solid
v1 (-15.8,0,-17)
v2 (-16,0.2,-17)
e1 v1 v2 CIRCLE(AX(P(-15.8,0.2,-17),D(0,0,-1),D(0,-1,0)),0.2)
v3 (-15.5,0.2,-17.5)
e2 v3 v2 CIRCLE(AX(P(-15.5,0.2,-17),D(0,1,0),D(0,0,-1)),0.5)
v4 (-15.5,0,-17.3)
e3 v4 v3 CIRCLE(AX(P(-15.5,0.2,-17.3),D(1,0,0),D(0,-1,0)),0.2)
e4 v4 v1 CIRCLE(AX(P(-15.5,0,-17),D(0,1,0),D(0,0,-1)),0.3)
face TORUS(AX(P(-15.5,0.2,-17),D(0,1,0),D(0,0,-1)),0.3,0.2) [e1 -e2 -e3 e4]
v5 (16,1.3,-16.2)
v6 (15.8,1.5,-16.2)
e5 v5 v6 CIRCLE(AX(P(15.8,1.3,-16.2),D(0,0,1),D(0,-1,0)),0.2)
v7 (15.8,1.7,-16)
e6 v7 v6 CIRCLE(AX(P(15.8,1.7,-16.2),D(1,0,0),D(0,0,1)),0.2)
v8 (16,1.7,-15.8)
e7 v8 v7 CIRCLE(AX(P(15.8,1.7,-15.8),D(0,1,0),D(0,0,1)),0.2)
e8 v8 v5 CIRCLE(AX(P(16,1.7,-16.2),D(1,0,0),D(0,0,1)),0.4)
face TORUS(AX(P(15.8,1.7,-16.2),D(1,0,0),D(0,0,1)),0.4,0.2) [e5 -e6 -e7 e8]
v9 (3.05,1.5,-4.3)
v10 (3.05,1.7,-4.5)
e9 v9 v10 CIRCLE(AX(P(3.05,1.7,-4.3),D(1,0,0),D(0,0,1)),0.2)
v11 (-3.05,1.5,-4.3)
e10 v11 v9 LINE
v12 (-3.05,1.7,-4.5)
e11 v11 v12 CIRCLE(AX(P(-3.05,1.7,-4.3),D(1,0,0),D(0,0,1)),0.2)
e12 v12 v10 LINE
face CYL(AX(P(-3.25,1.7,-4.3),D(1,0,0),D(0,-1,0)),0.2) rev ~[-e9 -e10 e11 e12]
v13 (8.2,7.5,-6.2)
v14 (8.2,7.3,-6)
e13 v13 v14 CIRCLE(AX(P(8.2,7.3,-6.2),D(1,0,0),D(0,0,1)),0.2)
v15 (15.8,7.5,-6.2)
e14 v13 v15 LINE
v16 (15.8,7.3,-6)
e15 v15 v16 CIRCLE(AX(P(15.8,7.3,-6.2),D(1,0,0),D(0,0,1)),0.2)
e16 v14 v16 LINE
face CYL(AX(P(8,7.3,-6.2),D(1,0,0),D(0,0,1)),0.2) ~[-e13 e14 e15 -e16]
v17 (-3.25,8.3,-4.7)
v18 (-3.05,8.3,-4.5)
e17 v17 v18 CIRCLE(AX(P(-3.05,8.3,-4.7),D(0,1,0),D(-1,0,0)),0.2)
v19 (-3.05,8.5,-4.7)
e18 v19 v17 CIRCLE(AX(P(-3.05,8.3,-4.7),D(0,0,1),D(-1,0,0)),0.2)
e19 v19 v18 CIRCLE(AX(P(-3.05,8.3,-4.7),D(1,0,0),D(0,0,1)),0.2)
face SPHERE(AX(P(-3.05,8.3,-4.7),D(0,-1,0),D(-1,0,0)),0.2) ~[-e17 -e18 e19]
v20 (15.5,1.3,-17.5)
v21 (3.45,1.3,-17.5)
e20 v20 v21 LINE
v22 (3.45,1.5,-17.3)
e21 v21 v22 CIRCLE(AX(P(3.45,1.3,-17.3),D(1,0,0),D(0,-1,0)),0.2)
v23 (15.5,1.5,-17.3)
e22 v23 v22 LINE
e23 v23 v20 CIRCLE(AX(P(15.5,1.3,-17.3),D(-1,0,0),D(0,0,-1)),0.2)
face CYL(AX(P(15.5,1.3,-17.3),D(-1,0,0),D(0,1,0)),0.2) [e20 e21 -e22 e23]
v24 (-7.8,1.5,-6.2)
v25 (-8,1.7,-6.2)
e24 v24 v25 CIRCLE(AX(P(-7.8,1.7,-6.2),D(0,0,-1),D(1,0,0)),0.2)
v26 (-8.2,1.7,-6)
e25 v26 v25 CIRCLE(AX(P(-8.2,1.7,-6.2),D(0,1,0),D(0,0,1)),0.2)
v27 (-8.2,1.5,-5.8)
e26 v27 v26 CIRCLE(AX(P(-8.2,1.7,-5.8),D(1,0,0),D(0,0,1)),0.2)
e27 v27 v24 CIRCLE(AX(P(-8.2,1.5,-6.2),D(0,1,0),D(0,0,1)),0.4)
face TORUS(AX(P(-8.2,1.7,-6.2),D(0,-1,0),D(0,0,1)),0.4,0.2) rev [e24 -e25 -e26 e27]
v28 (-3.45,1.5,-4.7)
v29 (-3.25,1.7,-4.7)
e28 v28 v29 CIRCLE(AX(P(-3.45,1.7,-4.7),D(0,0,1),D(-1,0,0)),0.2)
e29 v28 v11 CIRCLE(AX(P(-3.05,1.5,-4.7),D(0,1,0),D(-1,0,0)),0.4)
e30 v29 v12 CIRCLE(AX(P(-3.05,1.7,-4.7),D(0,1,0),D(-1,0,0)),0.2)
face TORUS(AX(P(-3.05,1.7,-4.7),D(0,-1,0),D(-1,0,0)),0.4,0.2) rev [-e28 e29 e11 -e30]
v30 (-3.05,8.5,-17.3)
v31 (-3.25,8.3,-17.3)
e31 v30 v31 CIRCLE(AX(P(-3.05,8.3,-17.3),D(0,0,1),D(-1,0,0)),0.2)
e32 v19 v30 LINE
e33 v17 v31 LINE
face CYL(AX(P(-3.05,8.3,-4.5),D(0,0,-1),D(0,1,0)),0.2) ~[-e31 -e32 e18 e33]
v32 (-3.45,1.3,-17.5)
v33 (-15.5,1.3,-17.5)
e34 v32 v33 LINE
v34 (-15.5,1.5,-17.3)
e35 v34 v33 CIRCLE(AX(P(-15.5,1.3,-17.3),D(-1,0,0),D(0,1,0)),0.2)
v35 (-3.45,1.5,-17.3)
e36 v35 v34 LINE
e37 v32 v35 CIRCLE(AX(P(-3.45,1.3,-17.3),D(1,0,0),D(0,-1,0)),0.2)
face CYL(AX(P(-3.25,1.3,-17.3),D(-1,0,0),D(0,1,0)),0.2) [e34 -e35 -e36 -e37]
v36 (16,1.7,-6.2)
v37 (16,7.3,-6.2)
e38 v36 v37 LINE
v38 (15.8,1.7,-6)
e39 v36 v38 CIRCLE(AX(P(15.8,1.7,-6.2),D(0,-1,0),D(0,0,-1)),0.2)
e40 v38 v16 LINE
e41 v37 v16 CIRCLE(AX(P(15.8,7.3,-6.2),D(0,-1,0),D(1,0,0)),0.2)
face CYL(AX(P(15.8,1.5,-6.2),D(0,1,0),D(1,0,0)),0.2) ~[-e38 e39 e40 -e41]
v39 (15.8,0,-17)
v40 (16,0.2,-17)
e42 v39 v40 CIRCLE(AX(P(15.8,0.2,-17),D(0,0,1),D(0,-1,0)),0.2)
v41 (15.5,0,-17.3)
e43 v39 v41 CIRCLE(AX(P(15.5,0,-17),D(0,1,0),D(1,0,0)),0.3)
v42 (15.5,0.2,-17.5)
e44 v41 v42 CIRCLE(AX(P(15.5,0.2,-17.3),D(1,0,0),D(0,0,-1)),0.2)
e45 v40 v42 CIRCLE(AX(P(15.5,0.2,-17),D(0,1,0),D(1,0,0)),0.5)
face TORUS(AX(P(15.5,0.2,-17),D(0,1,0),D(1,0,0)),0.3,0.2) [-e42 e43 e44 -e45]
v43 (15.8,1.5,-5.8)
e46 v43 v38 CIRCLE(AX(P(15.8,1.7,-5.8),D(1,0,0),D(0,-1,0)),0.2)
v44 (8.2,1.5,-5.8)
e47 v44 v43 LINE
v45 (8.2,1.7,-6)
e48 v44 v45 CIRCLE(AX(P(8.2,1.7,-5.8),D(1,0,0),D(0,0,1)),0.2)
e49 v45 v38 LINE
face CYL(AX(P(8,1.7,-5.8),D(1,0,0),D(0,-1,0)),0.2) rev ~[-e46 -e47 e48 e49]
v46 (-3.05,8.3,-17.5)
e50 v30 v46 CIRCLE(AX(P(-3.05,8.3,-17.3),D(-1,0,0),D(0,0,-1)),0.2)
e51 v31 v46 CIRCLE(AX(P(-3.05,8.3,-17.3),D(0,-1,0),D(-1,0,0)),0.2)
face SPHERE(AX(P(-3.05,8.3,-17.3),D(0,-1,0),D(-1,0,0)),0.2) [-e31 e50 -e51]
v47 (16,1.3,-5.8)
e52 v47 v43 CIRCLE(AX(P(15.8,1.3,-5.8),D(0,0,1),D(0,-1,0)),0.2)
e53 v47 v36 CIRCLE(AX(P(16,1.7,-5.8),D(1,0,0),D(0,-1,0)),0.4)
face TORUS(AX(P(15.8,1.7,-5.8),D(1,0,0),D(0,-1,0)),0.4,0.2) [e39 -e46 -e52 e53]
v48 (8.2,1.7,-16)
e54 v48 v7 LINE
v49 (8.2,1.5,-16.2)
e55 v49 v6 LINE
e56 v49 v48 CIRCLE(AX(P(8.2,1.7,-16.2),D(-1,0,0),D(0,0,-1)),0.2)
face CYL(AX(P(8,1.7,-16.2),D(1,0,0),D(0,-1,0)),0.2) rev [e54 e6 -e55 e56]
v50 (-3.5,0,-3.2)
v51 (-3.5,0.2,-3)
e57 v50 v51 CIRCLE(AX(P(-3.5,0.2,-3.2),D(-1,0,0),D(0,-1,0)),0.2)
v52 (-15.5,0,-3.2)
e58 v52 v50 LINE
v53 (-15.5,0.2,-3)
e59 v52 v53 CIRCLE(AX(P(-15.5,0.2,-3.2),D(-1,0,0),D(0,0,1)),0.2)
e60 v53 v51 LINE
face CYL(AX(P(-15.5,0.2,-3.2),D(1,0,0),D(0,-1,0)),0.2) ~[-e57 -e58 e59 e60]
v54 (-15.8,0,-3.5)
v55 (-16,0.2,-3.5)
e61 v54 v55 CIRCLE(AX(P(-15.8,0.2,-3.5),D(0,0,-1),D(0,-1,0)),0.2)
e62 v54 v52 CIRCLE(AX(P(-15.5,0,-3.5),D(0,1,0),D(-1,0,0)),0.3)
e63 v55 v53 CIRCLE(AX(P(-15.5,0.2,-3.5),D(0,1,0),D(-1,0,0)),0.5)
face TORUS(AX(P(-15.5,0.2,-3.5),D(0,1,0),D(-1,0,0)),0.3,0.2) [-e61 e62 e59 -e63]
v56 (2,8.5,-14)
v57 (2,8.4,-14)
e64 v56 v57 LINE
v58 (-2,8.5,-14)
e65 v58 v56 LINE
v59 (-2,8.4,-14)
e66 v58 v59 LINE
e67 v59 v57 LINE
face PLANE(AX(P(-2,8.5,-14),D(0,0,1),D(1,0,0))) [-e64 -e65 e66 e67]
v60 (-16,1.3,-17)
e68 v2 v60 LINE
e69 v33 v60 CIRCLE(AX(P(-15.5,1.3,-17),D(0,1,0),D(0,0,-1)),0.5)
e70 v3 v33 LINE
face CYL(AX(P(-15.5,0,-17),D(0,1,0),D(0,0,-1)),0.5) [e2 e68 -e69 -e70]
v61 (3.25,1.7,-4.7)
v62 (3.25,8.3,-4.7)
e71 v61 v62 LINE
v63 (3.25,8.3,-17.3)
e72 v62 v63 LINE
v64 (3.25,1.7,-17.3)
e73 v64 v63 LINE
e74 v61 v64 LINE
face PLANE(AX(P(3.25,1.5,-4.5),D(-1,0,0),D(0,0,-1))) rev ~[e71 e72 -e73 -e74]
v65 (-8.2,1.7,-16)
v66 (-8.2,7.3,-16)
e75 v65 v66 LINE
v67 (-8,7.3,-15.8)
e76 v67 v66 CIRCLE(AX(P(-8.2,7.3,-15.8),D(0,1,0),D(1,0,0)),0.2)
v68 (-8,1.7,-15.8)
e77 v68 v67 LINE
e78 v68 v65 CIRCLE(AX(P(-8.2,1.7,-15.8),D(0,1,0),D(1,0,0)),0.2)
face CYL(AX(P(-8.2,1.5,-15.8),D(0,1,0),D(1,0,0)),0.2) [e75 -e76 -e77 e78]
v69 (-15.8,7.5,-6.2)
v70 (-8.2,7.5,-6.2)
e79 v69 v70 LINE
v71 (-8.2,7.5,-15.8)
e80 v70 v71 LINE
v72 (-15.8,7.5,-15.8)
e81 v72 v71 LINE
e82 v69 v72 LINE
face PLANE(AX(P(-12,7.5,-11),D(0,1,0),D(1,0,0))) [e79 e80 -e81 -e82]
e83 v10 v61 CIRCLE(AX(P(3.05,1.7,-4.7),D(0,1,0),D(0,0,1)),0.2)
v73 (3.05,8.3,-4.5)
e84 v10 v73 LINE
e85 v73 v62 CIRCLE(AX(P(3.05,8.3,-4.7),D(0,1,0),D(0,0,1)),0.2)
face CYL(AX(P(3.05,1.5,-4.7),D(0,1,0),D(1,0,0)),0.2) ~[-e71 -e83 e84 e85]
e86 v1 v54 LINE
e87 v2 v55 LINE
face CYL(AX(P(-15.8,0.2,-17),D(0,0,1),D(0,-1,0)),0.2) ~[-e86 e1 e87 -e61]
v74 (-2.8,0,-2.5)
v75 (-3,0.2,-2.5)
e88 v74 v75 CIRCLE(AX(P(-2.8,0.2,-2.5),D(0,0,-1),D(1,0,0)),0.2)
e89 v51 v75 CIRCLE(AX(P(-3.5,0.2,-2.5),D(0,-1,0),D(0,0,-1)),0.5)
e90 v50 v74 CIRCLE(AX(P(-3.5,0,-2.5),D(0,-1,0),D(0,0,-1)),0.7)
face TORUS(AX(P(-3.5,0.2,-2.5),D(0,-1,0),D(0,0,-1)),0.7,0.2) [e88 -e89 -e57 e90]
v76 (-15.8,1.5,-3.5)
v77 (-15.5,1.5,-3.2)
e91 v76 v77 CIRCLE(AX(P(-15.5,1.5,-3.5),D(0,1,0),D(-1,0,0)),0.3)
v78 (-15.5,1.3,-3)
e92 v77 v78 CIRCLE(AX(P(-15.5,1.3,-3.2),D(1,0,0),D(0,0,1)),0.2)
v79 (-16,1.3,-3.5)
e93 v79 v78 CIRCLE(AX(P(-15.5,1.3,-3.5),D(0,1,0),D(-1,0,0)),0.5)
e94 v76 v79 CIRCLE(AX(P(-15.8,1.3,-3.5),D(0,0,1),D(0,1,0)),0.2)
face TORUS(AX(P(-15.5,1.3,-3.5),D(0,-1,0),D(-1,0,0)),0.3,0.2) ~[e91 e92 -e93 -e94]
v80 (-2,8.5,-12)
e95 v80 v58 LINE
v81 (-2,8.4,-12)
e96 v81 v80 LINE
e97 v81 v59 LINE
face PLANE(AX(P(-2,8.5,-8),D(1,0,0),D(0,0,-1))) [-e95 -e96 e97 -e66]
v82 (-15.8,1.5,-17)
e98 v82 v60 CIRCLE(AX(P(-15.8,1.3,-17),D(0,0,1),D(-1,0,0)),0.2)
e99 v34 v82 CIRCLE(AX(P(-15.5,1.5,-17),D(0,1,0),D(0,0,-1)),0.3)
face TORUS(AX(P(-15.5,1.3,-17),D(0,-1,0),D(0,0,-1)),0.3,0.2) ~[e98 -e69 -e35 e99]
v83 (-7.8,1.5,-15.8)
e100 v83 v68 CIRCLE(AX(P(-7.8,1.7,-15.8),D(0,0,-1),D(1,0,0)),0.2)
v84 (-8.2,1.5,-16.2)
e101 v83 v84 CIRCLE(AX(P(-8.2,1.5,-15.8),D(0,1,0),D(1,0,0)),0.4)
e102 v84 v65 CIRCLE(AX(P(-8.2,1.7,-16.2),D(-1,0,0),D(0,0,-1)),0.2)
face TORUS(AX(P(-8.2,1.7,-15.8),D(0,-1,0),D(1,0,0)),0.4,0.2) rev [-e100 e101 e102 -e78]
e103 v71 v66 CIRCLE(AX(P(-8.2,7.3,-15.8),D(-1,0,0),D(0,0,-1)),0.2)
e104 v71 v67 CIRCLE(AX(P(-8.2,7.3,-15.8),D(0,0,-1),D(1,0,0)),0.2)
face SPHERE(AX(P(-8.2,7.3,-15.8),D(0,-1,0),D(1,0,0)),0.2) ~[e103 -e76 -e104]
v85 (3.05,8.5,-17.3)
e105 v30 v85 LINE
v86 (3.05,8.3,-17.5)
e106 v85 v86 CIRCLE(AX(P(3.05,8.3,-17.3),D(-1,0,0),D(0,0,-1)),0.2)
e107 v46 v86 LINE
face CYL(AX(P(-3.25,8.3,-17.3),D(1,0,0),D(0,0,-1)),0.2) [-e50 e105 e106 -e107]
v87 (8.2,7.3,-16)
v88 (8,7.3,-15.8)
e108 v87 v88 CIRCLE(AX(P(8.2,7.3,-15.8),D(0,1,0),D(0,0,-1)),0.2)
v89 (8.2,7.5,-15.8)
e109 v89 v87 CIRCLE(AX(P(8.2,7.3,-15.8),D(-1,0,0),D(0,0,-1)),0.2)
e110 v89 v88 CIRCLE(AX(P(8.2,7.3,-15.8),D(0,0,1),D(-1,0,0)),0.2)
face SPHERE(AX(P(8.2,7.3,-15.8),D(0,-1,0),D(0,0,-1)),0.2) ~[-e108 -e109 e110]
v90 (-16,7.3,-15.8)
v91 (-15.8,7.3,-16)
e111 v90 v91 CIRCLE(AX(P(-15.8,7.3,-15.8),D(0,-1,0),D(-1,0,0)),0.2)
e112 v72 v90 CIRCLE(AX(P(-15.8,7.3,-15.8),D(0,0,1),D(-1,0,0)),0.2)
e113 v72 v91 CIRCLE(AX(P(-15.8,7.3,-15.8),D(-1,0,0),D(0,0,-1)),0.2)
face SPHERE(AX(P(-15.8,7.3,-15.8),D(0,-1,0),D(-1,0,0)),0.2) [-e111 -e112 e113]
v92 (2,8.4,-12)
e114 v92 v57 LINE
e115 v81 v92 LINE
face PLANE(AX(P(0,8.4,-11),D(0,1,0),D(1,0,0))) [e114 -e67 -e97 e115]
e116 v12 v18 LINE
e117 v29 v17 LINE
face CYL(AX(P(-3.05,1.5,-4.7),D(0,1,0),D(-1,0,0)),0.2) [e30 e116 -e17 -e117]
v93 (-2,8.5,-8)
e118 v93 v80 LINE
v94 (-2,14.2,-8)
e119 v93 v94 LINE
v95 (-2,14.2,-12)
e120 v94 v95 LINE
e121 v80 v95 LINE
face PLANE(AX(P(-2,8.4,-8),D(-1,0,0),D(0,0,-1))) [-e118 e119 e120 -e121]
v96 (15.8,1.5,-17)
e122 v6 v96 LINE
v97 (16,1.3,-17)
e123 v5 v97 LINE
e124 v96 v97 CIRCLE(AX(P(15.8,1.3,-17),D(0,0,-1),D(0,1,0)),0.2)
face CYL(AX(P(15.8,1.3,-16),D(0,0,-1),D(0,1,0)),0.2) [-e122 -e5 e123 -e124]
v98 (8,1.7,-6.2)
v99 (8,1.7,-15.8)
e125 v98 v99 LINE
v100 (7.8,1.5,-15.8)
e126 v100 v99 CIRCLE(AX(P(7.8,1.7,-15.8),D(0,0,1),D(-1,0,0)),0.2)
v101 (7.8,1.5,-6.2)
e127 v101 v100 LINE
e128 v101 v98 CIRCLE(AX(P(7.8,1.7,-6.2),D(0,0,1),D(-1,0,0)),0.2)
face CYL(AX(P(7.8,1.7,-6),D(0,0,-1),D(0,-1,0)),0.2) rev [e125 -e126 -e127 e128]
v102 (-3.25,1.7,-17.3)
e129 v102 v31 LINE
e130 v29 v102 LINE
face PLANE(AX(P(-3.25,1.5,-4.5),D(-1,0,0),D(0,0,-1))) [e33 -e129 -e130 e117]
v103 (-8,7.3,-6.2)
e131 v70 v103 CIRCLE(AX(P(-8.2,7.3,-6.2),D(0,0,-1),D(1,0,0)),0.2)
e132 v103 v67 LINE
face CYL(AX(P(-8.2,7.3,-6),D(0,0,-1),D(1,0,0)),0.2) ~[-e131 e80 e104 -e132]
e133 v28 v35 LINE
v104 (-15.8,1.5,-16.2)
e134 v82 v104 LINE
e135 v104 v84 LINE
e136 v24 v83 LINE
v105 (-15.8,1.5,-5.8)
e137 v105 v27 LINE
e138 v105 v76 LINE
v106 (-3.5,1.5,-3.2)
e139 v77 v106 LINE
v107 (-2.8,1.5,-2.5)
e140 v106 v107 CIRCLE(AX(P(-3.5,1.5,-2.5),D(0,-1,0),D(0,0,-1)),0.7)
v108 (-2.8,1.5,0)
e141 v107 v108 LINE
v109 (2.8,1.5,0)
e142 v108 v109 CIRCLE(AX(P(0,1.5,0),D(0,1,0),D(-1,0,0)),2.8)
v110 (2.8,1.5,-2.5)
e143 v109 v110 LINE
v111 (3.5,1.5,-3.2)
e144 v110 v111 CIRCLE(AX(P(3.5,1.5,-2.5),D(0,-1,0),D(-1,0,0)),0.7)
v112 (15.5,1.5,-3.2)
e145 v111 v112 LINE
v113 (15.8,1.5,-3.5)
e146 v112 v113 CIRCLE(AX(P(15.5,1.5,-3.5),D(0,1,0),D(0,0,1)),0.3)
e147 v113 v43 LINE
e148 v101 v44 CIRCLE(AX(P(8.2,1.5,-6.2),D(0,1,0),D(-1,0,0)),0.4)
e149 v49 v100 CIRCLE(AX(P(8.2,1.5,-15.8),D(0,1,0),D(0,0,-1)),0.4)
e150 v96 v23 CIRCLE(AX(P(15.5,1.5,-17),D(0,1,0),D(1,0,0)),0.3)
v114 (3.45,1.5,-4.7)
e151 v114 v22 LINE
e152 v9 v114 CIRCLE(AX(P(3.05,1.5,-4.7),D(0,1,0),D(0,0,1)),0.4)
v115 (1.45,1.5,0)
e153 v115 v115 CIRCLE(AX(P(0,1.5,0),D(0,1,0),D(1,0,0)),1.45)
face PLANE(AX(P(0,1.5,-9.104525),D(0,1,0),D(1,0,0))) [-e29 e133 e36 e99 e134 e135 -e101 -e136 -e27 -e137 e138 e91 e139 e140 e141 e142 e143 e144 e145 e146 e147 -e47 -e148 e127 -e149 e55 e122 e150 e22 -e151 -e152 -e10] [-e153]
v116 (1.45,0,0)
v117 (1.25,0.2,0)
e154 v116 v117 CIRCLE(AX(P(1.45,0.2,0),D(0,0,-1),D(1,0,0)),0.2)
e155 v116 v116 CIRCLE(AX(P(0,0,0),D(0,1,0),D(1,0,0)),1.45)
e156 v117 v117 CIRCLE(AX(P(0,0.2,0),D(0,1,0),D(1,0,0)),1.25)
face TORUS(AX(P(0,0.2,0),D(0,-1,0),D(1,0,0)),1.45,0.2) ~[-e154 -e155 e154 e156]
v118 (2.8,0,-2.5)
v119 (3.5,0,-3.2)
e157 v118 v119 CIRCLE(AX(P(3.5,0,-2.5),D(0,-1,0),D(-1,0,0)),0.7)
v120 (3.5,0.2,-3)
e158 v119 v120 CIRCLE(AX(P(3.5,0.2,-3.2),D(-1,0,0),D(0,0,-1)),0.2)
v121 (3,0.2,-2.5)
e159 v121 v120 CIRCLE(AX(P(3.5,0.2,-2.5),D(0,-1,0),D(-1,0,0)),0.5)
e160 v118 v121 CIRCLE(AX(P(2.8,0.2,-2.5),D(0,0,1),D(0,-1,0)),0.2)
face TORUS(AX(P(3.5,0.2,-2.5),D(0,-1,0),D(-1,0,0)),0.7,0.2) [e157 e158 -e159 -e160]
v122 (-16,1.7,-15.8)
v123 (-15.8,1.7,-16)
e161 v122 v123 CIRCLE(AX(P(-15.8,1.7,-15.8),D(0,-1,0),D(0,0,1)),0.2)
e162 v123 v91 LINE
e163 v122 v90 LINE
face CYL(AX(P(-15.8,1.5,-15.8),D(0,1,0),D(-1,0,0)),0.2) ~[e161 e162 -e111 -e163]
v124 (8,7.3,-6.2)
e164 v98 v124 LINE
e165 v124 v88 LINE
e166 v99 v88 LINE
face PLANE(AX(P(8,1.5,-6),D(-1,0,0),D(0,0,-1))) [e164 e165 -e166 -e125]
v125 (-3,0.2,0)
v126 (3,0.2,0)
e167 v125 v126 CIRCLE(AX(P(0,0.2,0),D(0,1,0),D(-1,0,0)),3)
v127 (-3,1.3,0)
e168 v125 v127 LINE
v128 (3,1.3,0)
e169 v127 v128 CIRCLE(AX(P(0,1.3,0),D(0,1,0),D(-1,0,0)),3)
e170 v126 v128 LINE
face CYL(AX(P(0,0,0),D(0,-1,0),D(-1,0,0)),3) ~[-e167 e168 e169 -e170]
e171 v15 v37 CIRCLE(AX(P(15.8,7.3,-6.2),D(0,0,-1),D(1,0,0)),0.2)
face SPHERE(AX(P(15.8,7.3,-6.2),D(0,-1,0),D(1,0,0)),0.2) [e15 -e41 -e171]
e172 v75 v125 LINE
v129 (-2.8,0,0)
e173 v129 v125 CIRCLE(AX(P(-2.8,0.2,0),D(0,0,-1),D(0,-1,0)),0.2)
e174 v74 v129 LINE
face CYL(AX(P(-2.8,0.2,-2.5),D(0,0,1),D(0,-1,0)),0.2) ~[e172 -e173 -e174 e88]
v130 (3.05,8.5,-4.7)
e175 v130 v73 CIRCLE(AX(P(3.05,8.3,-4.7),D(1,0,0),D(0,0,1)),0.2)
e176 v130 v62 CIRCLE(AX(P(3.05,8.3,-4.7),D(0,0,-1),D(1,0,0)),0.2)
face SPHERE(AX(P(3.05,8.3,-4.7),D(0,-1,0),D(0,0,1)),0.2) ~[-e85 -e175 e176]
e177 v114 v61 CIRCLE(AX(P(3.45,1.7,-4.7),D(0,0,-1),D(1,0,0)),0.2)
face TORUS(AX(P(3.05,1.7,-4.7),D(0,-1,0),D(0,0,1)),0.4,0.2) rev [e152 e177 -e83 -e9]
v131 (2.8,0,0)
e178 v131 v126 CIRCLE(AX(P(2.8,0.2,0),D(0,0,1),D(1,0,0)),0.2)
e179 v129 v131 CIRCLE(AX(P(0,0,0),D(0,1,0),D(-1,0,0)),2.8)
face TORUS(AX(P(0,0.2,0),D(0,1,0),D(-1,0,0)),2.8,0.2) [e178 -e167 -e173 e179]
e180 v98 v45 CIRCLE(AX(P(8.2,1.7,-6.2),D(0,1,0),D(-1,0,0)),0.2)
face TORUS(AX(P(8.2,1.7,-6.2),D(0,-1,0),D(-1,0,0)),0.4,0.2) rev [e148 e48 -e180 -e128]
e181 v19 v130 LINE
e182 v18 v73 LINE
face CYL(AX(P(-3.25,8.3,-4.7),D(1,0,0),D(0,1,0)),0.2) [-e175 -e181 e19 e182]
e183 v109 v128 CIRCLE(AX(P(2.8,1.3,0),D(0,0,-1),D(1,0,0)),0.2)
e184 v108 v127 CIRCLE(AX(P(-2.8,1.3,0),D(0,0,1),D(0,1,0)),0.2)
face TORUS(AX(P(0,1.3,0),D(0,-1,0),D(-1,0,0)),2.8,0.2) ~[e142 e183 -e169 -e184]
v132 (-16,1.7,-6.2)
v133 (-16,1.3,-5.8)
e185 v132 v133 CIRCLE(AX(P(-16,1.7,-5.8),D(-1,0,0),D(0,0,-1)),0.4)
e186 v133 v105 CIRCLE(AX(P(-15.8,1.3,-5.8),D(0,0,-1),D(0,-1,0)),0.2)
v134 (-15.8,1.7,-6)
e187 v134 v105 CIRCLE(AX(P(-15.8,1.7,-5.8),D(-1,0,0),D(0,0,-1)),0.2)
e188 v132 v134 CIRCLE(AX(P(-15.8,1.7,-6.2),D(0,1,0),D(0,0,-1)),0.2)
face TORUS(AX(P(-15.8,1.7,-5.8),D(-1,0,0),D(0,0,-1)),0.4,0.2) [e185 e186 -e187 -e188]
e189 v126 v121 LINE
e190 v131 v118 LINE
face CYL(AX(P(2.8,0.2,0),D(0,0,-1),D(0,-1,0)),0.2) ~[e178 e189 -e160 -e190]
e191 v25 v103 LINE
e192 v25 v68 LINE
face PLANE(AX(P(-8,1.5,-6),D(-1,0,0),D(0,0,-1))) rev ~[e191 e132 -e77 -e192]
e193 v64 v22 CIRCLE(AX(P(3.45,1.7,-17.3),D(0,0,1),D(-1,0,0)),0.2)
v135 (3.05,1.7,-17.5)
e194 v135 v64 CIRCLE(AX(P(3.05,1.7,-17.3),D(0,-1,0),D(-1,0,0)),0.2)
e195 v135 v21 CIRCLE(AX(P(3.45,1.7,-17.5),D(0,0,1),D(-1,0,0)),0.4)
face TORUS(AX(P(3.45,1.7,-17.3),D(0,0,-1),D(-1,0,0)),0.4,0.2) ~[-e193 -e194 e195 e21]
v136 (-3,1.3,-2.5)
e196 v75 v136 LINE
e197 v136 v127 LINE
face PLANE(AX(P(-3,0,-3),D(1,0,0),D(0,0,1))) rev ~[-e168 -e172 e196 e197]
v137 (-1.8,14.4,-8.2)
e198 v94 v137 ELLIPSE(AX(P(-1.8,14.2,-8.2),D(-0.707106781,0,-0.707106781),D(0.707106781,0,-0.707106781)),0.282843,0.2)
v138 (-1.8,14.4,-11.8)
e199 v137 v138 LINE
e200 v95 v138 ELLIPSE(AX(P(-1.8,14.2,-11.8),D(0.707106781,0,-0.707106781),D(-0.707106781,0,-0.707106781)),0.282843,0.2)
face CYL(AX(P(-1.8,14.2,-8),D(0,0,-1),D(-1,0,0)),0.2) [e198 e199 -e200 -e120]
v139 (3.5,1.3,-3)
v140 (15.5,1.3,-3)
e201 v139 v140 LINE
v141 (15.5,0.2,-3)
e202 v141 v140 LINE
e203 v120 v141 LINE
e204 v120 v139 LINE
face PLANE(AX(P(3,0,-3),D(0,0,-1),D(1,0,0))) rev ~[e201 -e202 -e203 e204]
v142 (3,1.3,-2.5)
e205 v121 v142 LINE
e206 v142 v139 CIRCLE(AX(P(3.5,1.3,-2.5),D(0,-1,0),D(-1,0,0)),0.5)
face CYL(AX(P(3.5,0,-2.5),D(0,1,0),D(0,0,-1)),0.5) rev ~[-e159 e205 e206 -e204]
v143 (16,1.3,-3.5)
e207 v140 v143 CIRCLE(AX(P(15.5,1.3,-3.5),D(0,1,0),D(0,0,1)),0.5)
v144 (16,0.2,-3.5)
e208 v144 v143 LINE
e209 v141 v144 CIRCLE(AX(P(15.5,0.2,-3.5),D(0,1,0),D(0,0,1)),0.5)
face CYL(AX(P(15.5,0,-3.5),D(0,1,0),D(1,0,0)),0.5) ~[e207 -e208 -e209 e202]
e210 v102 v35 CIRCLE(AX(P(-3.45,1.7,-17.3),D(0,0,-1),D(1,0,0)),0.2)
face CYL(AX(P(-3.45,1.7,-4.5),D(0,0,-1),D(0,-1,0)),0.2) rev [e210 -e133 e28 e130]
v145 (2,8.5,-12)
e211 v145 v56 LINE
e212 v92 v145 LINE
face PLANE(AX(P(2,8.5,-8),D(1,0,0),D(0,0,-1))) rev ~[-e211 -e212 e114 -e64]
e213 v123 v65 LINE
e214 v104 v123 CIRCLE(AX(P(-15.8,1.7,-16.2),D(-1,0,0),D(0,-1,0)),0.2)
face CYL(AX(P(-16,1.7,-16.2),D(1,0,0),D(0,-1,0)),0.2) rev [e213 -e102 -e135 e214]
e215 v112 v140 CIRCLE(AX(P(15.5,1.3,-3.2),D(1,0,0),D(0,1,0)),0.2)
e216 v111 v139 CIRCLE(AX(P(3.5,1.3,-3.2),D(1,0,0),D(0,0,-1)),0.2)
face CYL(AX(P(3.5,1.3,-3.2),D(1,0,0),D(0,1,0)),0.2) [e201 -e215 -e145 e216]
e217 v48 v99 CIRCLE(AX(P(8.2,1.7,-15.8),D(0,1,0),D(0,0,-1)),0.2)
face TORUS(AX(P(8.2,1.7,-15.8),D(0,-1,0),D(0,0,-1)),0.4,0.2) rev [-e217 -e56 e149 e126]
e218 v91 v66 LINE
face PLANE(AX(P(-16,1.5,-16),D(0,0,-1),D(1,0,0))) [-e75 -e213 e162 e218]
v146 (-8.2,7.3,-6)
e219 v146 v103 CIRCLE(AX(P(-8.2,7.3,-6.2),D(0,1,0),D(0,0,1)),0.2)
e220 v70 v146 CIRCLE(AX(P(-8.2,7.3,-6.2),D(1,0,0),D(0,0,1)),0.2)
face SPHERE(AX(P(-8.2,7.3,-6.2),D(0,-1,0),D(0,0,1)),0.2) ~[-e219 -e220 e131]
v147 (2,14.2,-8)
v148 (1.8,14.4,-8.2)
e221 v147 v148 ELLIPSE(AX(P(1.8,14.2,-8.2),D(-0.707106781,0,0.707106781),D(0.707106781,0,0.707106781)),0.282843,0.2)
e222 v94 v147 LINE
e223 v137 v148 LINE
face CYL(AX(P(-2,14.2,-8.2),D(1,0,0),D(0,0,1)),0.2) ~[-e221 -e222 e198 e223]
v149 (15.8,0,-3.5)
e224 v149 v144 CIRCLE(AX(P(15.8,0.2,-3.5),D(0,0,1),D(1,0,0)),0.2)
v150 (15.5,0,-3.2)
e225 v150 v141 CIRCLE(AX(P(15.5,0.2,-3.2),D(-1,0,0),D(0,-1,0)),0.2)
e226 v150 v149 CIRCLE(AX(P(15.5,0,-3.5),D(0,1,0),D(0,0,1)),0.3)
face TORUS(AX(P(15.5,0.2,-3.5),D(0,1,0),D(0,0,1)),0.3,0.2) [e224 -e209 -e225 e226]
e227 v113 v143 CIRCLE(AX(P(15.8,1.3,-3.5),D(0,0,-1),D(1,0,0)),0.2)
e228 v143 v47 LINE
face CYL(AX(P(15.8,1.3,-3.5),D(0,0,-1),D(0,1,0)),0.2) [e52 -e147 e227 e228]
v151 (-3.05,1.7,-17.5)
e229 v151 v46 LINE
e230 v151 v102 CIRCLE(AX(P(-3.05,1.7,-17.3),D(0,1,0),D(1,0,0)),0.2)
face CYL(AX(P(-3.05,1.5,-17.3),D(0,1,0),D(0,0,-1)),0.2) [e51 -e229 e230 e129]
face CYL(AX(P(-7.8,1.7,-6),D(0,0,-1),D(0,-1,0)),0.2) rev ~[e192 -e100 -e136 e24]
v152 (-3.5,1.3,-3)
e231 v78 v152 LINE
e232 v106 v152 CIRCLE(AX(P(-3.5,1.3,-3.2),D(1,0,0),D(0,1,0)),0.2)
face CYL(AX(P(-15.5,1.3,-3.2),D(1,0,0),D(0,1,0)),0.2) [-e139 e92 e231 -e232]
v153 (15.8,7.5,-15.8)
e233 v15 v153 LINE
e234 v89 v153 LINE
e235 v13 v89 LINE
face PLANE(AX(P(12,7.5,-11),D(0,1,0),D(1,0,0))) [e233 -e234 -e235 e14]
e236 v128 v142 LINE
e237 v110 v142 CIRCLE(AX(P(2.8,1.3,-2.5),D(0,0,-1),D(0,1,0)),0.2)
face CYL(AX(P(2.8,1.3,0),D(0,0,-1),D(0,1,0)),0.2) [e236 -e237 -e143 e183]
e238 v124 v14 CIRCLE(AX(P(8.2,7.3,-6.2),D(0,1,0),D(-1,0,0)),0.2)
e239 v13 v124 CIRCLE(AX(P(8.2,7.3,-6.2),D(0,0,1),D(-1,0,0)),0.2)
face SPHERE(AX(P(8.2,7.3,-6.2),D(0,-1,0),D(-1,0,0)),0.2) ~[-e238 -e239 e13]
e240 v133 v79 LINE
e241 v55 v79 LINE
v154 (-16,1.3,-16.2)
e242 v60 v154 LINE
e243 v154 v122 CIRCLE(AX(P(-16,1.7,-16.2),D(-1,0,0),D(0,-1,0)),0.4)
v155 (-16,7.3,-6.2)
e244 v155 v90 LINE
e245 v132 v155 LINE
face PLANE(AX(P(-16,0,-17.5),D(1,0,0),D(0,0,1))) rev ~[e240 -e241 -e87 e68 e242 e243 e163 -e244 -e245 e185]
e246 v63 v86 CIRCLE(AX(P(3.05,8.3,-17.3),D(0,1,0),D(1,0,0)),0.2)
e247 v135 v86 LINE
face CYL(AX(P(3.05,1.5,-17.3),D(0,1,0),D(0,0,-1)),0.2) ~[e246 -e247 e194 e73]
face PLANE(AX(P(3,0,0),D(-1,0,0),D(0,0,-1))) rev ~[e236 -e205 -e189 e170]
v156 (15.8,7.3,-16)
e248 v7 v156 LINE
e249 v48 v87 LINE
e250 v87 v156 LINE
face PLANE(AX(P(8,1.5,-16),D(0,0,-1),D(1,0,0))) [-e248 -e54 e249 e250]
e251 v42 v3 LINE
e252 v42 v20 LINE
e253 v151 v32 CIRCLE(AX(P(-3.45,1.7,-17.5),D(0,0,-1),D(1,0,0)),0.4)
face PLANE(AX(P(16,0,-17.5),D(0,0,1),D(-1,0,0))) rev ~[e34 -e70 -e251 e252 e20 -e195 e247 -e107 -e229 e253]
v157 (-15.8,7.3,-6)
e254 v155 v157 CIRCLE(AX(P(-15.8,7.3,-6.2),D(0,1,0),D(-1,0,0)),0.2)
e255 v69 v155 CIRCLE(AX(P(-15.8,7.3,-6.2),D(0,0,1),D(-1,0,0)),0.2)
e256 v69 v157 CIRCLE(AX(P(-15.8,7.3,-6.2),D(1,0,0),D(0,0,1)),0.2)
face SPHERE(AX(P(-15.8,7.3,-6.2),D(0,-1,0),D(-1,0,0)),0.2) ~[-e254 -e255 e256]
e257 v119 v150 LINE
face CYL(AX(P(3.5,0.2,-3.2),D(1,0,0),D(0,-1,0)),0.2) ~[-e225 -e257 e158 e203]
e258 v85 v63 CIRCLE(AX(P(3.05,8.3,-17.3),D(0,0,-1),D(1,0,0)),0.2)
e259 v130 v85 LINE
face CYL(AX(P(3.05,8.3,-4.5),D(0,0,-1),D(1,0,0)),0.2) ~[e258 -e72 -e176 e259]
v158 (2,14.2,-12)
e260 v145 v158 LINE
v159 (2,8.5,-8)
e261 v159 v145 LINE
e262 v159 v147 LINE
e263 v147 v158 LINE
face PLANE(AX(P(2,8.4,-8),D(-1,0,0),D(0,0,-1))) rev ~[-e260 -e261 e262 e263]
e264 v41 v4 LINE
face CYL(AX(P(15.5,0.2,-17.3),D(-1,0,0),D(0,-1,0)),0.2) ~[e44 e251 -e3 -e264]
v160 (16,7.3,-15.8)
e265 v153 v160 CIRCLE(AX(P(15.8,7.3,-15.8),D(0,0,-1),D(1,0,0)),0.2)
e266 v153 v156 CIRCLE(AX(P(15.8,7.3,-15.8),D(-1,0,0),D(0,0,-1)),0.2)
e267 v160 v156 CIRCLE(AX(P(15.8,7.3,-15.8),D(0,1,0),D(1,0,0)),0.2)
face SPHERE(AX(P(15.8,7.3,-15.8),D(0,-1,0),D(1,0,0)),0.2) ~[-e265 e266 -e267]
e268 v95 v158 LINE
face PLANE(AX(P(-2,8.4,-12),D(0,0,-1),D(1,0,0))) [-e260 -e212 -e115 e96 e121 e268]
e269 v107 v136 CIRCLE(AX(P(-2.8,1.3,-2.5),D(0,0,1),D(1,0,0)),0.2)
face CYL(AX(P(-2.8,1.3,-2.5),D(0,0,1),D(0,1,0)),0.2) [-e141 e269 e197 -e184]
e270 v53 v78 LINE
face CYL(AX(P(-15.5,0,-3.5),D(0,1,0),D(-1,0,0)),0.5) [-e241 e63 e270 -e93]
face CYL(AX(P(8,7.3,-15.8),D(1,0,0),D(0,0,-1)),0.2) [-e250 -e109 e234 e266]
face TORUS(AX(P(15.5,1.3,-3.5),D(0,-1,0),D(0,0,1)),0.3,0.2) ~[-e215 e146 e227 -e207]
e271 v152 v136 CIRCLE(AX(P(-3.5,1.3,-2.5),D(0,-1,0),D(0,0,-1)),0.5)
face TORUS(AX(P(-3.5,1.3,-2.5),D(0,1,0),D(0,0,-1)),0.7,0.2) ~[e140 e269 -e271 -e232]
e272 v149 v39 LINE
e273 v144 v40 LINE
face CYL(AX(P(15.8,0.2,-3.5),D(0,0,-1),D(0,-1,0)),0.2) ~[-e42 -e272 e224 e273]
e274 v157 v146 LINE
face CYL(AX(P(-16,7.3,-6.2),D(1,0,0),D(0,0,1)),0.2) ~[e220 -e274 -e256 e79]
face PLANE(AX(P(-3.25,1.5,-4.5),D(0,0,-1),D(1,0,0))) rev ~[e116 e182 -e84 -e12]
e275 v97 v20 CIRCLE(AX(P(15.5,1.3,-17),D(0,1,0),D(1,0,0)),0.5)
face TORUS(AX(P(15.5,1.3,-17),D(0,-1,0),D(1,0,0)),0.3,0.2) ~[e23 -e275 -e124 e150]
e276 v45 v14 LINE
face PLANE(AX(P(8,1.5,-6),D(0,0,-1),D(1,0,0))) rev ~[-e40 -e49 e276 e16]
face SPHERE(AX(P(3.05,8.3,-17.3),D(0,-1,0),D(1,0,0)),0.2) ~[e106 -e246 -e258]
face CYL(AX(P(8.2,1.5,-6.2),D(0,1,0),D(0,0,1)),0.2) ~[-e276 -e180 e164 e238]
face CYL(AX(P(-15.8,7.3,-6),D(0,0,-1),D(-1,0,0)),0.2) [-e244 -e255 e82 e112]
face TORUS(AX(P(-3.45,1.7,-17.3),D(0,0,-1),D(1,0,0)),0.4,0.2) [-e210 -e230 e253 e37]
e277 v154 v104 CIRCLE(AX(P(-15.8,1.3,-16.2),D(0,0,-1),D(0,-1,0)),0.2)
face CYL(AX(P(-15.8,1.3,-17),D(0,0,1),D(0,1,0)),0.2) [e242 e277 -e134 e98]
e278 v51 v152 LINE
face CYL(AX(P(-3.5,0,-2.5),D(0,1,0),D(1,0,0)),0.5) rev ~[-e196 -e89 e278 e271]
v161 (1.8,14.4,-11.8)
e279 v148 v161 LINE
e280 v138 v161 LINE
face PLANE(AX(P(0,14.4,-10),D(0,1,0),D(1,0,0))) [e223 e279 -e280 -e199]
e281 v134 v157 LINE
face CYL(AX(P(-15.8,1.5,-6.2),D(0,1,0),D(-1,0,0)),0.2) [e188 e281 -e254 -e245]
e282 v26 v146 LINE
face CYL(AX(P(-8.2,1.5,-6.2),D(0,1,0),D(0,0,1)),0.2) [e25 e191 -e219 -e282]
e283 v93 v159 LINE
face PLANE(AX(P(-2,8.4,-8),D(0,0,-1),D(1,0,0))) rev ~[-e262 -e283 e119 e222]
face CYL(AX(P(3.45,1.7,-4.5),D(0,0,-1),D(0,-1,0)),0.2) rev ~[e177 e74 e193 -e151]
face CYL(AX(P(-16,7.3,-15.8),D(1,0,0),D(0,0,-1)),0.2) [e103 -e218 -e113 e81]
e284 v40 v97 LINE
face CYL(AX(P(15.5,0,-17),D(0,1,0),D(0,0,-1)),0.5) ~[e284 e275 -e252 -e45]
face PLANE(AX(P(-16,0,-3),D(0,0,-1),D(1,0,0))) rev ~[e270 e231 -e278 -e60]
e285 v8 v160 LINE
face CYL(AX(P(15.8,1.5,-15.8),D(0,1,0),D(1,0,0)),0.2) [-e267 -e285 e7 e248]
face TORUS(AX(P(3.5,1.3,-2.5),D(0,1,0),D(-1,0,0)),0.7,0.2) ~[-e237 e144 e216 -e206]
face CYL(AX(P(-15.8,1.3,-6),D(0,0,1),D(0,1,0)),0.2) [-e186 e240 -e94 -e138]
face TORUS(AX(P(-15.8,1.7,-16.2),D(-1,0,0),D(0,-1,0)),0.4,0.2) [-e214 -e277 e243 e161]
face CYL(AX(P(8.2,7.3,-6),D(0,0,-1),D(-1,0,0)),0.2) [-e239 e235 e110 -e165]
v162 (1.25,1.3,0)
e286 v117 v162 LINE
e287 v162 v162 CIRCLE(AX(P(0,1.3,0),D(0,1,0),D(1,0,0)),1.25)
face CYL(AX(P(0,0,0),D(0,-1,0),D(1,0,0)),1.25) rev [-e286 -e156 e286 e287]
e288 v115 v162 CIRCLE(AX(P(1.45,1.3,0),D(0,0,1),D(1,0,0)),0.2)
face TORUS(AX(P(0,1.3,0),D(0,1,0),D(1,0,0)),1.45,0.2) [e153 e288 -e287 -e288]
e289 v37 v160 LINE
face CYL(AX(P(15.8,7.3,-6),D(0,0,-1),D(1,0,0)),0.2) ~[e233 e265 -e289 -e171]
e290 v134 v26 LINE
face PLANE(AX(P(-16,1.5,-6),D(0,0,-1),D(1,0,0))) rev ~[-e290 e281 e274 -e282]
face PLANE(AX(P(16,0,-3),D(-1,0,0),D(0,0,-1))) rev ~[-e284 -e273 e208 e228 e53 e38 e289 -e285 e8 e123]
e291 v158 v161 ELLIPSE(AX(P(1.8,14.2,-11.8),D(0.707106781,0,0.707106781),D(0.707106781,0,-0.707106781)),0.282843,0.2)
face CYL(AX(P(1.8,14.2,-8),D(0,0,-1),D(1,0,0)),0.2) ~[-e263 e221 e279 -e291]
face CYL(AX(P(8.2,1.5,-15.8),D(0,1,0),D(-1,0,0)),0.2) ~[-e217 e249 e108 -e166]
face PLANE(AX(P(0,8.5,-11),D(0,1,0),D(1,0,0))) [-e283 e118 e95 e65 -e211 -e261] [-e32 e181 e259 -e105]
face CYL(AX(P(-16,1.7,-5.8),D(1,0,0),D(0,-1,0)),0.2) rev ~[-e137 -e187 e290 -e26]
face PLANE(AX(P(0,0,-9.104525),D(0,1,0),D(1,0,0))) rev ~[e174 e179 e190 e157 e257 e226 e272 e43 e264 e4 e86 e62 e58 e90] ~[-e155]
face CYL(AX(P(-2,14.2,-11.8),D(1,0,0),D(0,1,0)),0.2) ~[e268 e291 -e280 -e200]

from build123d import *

# Parameters (mm, degrees)
SKETCH_1_R          = 1.25
PCB_DEPTH           = 1.5
SKETCH_2_W          = 8
SKETCH_2_H          = 10
EXTRUDE_1272_DEPTH  = 6
SKETCH_3_W          = 6.5
SKETCH_3_H          = 13
EXTRUDE_1607_DEPTH  = 7
SKETCH_4_W          = 4
SKETCH_4_H          = 6
CUT_EXTRUDE_1_DEPTH = 0.1
SKETCH_5_W          = 4
SKETCH_5_H          = 4
EXTRUDE_2037_DEPTH  = 6
FILLET_1_R          = 0.5
FILLET_2_R          = 0.2


with BuildPart() as part:
    # 草图1 → 凸台-拉伸-PCB板 (new body)
    with BuildSketch(Plane(origin=(0, 0, 0), x_dir=(1, 0, 0), z_dir=(0, 1, 0))):
        with BuildLine():
            Line((-3, 3), (-3, 0))
            ThreePointArc((-3, 0), (0, -3), (3, 0))
            Line((3, 0), (3, 3))
            Line((3, 3), (16, 3))
            Line((16, 3), (16, 17.5))
            Line((16, 17.5), (-16, 17.5))
            Line((-16, 17.5), (-16, 3))
            Line((-16, 3), (-3, 3))
        make_face()
        Circle(SKETCH_1_R, mode=Mode.SUBTRACT)
    extrude(amount=PCB_DEPTH)

    # 草图2 → Extrude 1272 (add)
    with BuildSketch(Plane(origin=(0, 1.5, 0), x_dir=(1, 0, 0), z_dir=(0, 1, 0))):
        with Locations((-12, 11)):
            Rectangle(SKETCH_2_W, SKETCH_2_H)
        with Locations((12, 11)):
            Rectangle(SKETCH_2_W, SKETCH_2_H)
    extrude(amount=EXTRUDE_1272_DEPTH)

    # 草图3 → Extrude 1607 (add)
    with BuildSketch(Plane(origin=(0, 1.5, 0), x_dir=(1, 0, 0), z_dir=(0, 1, 0))):
        with Locations((0, 11)):
            Rectangle(SKETCH_3_W, SKETCH_3_H)
    extrude(amount=EXTRUDE_1607_DEPTH)

    # 草图4 → 切除-拉伸1 (cut)
    with BuildSketch(Plane(origin=(0, 8.5, 0), x_dir=(1, 0, 0), z_dir=(0, 1, 0))):
        with Locations((0, 11)):
            Rectangle(SKETCH_4_W, SKETCH_4_H)
    extrude(amount=-CUT_EXTRUDE_1_DEPTH, mode=Mode.SUBTRACT)

    # 草图5 → Extrude 2037 (add)
    with BuildSketch(Plane(origin=(0, 8.4, 0), x_dir=(1, 0, 0), z_dir=(0, 1, 0))):
        with Locations((0, 10)):
            Rectangle(SKETCH_5_W, SKETCH_5_H)
    extrude(amount=EXTRUDE_2037_DEPTH)

    # 圆角1
    fillet_1_edges = [part.edges().sort_by_distance(p)[0] for p in [
        (-3, 0.75, -3),
        (-16, 0.75, -3),
        (-16, 0.75, -17.5),
        (16, 0.75, -17.5),
        (16, 0.75, -3),
        (3, 0.75, -3),
    ]]
    fillet(fillet_1_edges, radius=FILLET_1_R)

    # 圆角2
    fillet_2_edges = [part.edges().sort_by_distance(p)[0] for p in [
        (-16, 0, -10.25),
        (-16, 1.5, -16.5),
        (-1.25, 0, 0),
        (0, 1.5, 3),
        (-9.5, 0, -3),
        (0, 0, -17.5),
        (16, 0, -10.25),
        (9.5, 0, -3),
        (15.853553391, 0, -3.146446609),
        (15.853553391, 0, -17.353553391),
        (-15.853553391, 0, -3.146446609),
        (-15.853553391, 0, -17.353553391),
        (-9.375, 1.5, -17.5),
        (-9.5, 1.5, -3),
        (9.5, 1.5, -3),
        (16, 1.5, -16.5),
        (15.853553391, 1.5, -3.146446609),
        (15.853553391, 1.5, -17.353553391),
        (-15.853553391, 1.5, -3.146446609),
        (-15.853553391, 1.5, -17.353553391),
        (-3.146446609, 0, -2.853553391),
        (-3.146446609, 1.5, -2.853553391),
        (3.146446609, 0, -2.853553391),
        (3.146446609, 1.5, -2.853553391),
        (3, 0, -1.25),
        (0, 0, 3),
        (-3, 0, -1.25),
        (3, 1.5, -1.25),
        (-16, 1.5, -4.75),
        (-16, 4.5, -16),
        (-12, 1.5, -6),
        (-16, 4.5, -6),
        (-8, 1.5, -11),
        (-8, 4.5, -6),
        (-12, 1.5, -16),
        (-8, 4.5, -16),
        (-16, 7.5, -11),
        (-12, 7.5, -6),
        (-8, 7.5, -11),
        (-12, 7.5, -16),
        (16, 1.5, -4.75),
        (16, 4.5, -6),
        (12, 1.5, -16),
        (16, 4.5, -16),
        (8, 1.5, -11),
        (-1.25, 1.5, 0),
        (8, 4.5, -16),
        (12, 1.5, -6),
        (8, 4.5, -6),
        (16, 7.5, -11),
        (12, 7.5, -16),
        (8, 7.5, -11),
        (12, 7.5, -6),
        (-3, 1.5, -1.25),
        (9.375, 1.5, -17.5),
        (-3.25, 1.5, -11),
        (-3.25, 5, -17.5),
        (0, 1.5, -4.5),
        (-3.25, 5, -4.5),
        (3.25, 1.5, -11),
        (3.25, 5, -4.5),
        (3.25, 5, -17.5),
        (-3.25, 8.5, -11),
        (0, 8.5, -4.5),
        (3.25, 8.5, -11),
        (0, 8.5, -17.5),
        (-2, 14.4, -10),
        (0, 14.4, -8),
        (2, 14.4, -10),
        (0, 14.4, -12),
    ]]
    fillet(fillet_2_edges, radius=FILLET_2_R)


solid = part.part
